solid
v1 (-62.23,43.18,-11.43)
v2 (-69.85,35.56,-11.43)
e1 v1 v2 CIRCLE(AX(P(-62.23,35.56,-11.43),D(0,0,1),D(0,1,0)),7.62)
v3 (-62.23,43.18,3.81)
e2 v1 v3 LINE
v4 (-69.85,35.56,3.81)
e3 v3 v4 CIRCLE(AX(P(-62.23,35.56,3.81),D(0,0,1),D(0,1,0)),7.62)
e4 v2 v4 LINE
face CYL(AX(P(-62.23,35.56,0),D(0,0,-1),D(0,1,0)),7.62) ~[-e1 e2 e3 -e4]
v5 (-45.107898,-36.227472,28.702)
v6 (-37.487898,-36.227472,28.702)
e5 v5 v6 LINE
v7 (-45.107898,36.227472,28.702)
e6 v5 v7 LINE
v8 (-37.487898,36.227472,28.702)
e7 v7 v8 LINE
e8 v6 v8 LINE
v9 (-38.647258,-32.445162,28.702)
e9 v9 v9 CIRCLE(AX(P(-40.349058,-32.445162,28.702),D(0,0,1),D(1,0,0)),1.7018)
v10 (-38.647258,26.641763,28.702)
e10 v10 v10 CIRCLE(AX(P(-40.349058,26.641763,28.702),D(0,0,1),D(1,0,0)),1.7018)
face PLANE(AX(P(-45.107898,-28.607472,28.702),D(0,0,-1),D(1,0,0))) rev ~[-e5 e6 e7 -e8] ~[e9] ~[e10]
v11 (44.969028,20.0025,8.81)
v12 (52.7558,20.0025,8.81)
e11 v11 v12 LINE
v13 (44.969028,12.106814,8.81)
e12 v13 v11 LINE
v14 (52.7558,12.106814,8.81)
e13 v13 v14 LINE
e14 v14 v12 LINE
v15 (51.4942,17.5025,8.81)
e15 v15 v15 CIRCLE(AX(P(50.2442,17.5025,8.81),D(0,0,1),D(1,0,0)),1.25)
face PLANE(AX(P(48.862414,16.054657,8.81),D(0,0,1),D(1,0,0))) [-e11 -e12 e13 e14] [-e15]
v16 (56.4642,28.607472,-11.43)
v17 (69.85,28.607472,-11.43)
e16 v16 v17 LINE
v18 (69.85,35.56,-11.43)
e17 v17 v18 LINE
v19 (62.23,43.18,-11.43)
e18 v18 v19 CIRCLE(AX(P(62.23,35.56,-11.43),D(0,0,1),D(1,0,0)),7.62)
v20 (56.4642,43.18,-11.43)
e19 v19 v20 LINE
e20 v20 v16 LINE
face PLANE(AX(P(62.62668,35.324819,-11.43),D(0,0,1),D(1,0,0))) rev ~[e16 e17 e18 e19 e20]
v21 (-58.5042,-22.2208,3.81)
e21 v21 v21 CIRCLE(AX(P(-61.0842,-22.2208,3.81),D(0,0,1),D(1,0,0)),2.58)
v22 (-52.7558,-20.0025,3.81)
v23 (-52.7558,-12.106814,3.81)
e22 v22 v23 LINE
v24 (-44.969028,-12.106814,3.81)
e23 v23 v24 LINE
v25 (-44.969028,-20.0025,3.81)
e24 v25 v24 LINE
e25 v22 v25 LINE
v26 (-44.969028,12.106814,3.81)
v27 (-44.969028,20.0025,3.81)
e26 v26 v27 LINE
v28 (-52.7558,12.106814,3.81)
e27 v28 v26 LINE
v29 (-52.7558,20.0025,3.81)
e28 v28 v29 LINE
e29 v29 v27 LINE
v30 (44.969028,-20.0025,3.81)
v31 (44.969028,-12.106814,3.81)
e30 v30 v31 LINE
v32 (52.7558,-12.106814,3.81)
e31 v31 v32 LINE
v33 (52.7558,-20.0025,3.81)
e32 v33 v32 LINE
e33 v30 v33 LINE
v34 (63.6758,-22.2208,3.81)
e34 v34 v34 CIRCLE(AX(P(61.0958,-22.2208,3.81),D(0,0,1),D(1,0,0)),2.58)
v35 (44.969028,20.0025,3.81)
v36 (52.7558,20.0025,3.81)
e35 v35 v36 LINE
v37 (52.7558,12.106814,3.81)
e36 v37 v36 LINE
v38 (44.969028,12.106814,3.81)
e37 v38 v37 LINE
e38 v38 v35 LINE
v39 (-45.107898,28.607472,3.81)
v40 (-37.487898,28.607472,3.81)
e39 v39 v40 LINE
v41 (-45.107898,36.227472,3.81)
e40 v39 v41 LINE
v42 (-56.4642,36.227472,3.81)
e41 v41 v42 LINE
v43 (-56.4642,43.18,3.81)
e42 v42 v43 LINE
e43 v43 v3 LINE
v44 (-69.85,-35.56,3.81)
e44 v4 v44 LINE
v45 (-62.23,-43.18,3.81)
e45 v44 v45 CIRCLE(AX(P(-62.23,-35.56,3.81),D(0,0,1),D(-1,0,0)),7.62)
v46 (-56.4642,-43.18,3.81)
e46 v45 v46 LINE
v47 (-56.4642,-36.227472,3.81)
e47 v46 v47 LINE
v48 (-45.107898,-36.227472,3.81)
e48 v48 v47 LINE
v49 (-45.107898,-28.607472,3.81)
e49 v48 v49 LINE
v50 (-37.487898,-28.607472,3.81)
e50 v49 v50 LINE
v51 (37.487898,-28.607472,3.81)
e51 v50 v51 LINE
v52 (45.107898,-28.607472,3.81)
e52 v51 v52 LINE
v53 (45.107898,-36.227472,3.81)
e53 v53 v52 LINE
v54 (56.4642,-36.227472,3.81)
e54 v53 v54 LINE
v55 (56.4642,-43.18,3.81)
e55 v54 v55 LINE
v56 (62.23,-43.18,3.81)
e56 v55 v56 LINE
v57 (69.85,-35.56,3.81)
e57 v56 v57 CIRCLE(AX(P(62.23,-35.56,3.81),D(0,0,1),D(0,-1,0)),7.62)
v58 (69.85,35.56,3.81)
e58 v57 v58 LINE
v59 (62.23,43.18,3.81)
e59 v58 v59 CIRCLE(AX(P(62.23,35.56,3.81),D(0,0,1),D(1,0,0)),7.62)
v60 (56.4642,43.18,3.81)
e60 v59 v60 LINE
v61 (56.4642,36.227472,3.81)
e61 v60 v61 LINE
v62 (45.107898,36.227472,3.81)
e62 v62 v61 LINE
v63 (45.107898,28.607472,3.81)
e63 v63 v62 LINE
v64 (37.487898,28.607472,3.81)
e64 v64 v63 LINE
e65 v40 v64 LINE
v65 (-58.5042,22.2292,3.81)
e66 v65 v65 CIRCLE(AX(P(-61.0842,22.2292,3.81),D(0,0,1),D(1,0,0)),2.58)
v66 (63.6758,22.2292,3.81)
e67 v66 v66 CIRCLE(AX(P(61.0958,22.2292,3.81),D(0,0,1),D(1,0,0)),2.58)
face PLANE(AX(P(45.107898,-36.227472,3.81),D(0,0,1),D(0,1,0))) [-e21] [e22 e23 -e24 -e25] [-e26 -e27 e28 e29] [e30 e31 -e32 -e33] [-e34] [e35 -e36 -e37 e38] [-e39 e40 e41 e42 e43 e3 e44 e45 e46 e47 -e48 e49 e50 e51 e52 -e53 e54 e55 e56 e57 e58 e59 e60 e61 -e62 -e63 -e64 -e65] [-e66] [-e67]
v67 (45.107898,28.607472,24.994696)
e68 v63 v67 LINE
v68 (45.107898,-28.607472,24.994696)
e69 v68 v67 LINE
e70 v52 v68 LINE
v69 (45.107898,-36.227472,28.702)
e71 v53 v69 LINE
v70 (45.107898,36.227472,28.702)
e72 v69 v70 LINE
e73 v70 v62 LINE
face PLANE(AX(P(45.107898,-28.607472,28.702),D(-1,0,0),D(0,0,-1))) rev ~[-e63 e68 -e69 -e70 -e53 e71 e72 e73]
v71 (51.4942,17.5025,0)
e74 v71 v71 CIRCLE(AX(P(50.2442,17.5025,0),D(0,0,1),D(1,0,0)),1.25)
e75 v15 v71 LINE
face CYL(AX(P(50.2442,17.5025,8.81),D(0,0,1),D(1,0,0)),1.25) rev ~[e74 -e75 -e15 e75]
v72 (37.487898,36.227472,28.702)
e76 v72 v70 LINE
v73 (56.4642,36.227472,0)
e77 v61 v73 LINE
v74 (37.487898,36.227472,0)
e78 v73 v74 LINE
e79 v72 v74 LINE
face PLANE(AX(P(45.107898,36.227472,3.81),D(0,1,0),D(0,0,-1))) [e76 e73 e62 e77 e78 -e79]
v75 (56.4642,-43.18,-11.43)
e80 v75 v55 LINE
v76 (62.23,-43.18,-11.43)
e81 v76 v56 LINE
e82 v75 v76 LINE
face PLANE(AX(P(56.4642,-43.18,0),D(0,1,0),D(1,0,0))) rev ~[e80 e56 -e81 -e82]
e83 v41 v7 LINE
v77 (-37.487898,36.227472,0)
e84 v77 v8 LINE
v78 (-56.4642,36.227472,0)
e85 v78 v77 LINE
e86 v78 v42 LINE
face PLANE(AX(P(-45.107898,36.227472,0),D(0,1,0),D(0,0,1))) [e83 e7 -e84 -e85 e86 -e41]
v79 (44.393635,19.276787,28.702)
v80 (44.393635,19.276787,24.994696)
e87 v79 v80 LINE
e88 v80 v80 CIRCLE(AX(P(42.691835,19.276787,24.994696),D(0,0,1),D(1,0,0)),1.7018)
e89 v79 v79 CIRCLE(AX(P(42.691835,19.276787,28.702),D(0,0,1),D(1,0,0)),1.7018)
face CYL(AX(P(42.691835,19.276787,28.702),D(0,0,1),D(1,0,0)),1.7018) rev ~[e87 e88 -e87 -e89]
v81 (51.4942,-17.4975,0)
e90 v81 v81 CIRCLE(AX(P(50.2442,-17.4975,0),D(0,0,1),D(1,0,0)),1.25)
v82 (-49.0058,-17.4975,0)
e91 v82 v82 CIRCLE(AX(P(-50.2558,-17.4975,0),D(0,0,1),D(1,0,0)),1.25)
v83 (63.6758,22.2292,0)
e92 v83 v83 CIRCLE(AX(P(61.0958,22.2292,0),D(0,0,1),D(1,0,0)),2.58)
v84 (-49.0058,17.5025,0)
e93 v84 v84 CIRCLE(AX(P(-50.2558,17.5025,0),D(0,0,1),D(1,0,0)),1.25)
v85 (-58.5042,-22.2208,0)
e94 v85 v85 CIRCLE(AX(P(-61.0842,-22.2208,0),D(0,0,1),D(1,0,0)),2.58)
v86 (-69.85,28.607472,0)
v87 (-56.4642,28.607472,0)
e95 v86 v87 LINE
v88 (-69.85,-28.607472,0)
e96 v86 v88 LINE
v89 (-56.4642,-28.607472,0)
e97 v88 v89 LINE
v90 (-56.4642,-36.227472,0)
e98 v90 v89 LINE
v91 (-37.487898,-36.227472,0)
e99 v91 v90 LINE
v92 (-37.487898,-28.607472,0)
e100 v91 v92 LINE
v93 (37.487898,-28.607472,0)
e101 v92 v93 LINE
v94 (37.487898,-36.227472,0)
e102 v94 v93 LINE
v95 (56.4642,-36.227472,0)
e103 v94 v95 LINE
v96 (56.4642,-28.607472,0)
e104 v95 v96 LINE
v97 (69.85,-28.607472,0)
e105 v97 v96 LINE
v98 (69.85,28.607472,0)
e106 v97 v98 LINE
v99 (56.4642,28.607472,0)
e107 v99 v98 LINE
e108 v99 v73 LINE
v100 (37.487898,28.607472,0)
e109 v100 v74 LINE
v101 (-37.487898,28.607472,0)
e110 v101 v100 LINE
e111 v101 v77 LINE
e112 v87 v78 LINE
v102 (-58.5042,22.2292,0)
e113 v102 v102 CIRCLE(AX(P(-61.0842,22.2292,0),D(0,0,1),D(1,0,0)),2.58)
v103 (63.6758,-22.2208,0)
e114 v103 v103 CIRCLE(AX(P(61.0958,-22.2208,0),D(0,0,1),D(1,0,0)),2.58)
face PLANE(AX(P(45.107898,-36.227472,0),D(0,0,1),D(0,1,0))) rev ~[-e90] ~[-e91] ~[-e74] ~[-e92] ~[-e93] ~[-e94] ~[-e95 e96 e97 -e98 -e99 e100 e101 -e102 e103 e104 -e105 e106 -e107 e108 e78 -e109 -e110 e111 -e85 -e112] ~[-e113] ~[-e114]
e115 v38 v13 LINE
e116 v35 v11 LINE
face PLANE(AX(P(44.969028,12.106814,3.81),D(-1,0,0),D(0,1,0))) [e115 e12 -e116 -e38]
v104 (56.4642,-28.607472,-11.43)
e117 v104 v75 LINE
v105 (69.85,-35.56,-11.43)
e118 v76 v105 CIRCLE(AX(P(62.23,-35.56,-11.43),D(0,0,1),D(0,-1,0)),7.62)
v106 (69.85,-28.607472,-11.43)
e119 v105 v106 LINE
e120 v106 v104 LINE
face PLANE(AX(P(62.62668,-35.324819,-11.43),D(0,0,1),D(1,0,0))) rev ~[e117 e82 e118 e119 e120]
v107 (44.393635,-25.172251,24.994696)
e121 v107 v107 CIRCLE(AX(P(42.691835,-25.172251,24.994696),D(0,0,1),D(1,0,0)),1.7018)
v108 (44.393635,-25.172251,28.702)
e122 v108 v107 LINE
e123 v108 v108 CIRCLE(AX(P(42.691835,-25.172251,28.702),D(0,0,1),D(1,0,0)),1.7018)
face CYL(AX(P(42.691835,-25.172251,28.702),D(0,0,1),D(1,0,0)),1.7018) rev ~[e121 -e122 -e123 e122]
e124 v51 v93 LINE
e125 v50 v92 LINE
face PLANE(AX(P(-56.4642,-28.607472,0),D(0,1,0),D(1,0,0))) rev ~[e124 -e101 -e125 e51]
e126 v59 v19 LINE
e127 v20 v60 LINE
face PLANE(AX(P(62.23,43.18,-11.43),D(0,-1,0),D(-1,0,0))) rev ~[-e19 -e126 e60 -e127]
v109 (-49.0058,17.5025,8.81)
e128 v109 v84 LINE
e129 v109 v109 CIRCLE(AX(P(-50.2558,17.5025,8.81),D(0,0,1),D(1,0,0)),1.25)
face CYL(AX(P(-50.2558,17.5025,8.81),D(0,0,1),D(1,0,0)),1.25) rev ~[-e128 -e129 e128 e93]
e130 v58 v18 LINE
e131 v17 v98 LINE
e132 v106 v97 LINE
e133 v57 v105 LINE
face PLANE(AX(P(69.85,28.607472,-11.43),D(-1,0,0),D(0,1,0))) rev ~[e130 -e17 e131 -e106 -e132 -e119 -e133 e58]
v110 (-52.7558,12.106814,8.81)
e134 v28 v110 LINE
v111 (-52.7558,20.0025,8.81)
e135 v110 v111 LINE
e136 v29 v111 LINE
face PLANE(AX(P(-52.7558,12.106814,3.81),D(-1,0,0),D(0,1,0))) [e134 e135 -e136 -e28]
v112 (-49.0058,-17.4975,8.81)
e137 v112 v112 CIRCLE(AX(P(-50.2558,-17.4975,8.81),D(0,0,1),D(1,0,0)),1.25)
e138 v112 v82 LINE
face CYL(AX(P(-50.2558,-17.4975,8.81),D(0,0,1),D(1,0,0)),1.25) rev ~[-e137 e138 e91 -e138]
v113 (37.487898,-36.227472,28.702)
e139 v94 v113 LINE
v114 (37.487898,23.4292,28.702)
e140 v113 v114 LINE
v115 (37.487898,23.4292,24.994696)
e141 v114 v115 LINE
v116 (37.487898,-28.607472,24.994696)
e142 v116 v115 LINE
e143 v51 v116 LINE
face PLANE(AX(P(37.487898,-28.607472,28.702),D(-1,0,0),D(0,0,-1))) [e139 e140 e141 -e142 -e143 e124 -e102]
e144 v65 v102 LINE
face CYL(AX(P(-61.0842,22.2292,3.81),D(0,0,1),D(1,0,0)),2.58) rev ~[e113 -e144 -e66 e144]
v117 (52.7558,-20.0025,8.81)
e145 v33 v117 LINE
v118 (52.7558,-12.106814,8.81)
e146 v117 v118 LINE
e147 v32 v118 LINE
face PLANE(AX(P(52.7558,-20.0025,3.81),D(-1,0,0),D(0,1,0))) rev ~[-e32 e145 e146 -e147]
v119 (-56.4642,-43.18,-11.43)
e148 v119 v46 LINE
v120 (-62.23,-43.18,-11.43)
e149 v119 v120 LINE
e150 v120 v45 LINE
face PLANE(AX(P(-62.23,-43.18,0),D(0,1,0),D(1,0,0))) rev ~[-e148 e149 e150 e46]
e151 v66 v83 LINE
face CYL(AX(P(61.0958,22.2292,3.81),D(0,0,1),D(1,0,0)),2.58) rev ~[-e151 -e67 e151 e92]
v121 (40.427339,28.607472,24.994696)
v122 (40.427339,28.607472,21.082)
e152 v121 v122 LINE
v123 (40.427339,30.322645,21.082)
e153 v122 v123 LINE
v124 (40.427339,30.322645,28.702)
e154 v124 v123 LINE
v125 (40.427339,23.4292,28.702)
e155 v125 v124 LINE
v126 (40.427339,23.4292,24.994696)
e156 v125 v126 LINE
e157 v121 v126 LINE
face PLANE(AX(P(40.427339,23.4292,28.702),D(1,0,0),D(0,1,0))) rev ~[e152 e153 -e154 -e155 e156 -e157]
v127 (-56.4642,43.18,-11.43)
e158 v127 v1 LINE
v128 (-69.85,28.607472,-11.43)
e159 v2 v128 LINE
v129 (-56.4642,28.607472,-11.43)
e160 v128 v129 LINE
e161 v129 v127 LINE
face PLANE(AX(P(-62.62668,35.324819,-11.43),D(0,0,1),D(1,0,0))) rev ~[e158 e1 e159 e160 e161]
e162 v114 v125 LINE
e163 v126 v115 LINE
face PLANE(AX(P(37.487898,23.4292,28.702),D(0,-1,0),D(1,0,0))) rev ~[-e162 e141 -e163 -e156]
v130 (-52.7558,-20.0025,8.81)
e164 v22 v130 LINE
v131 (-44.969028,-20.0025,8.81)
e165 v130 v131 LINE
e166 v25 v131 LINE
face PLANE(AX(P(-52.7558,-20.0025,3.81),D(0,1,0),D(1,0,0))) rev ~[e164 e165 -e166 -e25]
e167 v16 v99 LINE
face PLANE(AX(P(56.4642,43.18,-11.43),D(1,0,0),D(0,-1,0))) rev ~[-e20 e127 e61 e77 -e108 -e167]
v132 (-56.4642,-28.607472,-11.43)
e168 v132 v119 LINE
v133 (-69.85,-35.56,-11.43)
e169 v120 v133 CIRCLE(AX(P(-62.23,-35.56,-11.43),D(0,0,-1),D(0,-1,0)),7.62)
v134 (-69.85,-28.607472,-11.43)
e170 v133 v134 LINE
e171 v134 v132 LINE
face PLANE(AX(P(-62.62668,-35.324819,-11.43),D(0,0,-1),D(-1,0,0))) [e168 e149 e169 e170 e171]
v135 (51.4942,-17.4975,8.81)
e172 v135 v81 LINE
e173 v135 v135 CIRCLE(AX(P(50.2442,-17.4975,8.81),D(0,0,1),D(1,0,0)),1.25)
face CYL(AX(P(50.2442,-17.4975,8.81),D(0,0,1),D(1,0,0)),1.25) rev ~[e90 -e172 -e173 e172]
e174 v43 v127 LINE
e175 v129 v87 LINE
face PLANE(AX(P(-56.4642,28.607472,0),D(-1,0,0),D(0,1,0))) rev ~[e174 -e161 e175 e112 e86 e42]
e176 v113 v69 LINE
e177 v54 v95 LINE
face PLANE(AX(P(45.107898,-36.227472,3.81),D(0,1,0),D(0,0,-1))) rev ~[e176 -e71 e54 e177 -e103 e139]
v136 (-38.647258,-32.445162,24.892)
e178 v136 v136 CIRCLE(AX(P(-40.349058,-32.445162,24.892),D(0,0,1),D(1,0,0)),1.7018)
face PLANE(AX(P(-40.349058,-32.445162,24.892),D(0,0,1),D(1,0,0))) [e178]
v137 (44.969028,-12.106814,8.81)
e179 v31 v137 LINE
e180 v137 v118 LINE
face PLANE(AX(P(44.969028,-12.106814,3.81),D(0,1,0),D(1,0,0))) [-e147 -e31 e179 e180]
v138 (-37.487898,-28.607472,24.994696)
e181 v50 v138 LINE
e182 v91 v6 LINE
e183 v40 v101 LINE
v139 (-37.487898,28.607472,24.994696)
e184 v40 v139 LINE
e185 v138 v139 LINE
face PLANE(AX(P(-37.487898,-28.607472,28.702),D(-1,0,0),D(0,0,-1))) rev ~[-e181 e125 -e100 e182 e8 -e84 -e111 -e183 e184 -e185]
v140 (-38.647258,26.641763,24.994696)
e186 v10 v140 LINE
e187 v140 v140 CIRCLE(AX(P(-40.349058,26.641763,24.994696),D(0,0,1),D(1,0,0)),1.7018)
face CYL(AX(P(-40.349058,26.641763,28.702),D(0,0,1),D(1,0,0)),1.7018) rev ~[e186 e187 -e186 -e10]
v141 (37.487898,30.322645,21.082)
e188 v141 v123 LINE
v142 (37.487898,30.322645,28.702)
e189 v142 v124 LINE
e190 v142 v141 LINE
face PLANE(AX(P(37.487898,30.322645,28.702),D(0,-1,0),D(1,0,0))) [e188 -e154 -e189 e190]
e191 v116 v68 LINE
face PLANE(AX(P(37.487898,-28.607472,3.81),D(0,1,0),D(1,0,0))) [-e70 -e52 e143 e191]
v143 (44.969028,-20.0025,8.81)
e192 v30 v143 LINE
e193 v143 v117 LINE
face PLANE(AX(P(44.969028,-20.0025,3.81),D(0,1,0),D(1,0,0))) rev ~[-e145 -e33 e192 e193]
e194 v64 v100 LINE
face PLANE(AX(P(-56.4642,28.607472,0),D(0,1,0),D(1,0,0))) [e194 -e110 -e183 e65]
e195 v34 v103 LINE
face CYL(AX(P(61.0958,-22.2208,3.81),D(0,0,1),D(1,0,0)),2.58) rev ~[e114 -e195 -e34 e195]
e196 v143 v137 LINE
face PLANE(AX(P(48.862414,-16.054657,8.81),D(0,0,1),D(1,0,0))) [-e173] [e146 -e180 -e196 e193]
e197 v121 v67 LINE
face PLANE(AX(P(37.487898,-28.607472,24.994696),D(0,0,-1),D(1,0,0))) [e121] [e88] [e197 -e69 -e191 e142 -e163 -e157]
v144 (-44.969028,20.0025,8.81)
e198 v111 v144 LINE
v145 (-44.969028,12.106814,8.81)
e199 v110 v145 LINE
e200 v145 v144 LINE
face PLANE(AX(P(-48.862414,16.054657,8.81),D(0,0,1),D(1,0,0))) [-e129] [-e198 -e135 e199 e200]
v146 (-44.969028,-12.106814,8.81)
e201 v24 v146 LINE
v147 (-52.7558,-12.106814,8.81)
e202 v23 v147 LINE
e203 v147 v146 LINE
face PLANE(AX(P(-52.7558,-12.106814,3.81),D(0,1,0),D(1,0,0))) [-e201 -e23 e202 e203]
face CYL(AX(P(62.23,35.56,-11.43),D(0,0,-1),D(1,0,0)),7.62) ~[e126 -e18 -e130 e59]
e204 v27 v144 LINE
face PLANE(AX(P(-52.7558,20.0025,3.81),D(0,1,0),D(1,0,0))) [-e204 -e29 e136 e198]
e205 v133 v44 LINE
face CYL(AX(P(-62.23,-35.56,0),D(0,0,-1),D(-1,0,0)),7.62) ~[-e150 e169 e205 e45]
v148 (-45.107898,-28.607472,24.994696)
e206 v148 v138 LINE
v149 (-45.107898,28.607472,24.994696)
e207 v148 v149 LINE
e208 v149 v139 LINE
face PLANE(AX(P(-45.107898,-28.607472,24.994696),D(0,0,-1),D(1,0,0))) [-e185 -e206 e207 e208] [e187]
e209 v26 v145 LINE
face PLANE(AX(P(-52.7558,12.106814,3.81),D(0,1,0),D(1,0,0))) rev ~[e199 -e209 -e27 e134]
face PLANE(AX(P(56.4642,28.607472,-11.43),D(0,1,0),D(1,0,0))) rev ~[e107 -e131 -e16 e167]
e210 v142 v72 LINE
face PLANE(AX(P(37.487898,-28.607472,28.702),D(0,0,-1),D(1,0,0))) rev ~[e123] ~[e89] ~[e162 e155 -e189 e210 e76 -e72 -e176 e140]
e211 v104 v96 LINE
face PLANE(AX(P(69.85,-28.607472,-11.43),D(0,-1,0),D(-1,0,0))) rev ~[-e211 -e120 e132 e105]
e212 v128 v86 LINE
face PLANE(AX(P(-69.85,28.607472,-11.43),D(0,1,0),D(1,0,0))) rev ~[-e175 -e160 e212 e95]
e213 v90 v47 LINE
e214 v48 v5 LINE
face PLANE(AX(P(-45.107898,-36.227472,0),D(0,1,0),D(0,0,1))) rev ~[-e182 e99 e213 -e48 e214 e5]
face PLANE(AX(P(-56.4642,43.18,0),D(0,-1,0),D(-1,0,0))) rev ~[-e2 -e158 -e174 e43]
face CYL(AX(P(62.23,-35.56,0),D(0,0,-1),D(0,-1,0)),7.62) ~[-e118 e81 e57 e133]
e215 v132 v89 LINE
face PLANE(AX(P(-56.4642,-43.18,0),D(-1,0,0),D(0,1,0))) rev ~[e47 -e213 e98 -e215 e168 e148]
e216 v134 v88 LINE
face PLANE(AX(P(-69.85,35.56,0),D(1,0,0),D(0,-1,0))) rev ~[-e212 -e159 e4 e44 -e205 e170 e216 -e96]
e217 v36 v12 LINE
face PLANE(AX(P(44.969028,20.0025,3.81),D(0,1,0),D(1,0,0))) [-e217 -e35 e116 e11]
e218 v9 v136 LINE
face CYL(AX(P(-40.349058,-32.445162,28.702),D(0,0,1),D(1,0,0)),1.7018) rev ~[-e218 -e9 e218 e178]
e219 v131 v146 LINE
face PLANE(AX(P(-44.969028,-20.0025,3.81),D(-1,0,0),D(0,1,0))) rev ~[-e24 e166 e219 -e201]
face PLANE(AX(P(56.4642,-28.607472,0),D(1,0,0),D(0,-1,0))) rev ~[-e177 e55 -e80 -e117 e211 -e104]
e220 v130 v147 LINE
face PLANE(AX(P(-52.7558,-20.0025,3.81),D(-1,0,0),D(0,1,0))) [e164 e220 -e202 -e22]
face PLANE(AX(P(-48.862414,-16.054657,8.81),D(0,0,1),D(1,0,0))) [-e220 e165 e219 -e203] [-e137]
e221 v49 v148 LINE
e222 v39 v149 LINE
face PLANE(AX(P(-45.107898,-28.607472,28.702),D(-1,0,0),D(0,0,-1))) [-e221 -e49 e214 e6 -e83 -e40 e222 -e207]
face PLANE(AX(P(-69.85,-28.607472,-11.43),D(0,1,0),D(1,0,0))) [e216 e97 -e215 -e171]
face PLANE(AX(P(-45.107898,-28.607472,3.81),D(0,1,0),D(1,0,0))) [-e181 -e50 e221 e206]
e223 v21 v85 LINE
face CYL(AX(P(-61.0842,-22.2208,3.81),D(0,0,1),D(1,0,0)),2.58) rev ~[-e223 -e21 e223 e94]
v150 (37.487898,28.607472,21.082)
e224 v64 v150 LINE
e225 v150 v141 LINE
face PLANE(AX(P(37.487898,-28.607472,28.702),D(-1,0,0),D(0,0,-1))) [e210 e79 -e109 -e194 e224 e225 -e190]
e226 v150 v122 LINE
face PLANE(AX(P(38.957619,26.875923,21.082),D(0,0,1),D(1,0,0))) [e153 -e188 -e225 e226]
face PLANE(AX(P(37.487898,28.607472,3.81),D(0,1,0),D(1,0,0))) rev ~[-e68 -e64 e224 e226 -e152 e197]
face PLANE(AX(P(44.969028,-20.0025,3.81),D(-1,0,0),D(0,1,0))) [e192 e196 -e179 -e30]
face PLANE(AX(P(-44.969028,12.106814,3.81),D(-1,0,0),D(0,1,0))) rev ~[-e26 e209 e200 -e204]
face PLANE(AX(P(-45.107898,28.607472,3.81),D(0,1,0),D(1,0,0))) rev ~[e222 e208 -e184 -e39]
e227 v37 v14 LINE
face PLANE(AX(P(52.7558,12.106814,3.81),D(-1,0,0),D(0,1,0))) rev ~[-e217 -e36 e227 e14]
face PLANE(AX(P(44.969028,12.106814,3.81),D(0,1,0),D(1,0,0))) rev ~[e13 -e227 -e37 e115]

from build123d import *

# Parameters (mm, degrees)
SKETCH1_W             = 112.9284
SKETCH1_H             = 57.214943904
BOSS_EXTRUDE1_DEPTH   = 3.81
BOSS_EXTRUDE2_START   = 11.43
BOSS_EXTRUDE2_DEPTH   = 11.43
CUT_EXTRUDE1_REACH    = 85.521
SKETCH3_R             = 2.58
SKETCH4_W             = 7.786771744
SKETCH4_H             = 7.895685894
BOSS_EXTRUDE3_DEPTH   = 5
CUT_EXTRUDE2_REACH    = 86.577
SKETCH5_R             = 1.25
SKETCH8_W             = 7.62
SKETCH8_H             = 7.62
BOSS_EXTRUDE4_DEPTH   = 24.892
BOSS_EXTRUDE4_2_DEPTH = 24.892
BOSS_EXTRUDE4_3_DEPTH = 24.892
BOSS_EXTRUDE4_4_DEPTH = 24.892
SKETCH9_W             = 7.62
SKETCH9_H             = 7.62
BOSS_EXTRUDE5_DEPTH   = 3.81
BOSS_EXTRUDE6_REACH   = 106.193
SKETCH10_W            = 7.62
SKETCH10_H            = 3.70730408
BOSS_EXTRUDE7_REACH   = 128.11
SKETCH11_W            = 3.81
SKETCH11_H            = 7.62
BOSS_EXTRUDE8_REACH   = 128.11
SKETCH12_W            = 3.81
SKETCH12_H            = 7.62
SKETCH14_R            = 1.7018
CUT_EXTRUDE3_DEPTH    = 3.81
SKETCH16_W            = 2.93944059
SKETCH16_H            = 6.893445181
CUT_EXTRUDE4_DEPTH    = 7.62


with BuildPart() as part:
    # Sketch1 → Boss-Extrude1 (new body)
    with BuildSketch(Plane.XY):
        with BuildLine():
            Line((-56.4642, -28.607471952), (-56.4642, 28.607471952))
            Line((-56.4642, 28.607471952), (-56.4642, 43.18))
            Line((-56.4642, 43.18), (-62.23, 43.18))
            ThreePointArc((-62.23, 43.18), (-67.618153673, 40.948153673), (-69.85, 35.56))
            Line((-69.85, 35.56), (-69.85, -35.56))
            ThreePointArc((-69.85, -35.56), (-67.618153673, -40.948153673), (-62.23, -43.18))
            Line((-62.23, -43.18), (-56.4642, -43.18))
            Line((-56.4642, -43.18), (-56.4642, -28.607471952))
        make_face()
        Rectangle(SKETCH1_W, SKETCH1_H)
        with BuildLine():
            Line((56.4642, 43.18), (56.4642, 28.607471952))
            Line((56.4642, 28.607471952), (56.4642, -28.607471952))
            Line((56.4642, -28.607471952), (56.4642, -43.18))
            Line((56.4642, -43.18), (62.23, -43.18))
            ThreePointArc((62.23, -43.18), (67.618153673, -40.948153673), (69.85, -35.56))
            Line((69.85, -35.56), (69.85, 35.56))
            ThreePointArc((69.85, 35.56), (67.618153673, 40.948153673), (62.23, 43.18))
            Line((62.23, 43.18), (56.4642, 43.18))
        make_face()
    extrude(amount=BOSS_EXTRUDE1_DEPTH)

    # Sketch2 → Boss-Extrude2 (add)
    with BuildSketch(Plane(origin=(0, 0, 0), x_dir=(-1, 0, 0), z_dir=(0, 0, -1)).offset(BOSS_EXTRUDE2_START)):
        with BuildLine():
            Line((-62.23, 43.18), (-56.4642, 43.18))
            Line((-56.4642, 43.18), (-56.4642, 28.607471952))
            Line((-56.4642, 28.607471952), (-69.85, 28.607471952))
            Line((-69.85, 28.607471952), (-69.85, 35.56))
            ThreePointArc((-69.85, 35.56), (-67.618153673, 40.948153673), (-62.23, 43.18))
        make_face()
        with BuildLine():
            Line((69.85, 28.607471952), (56.4642, 28.607471952))
            Line((56.4642, 28.607471952), (56.4642, 43.18))
            Line((56.4642, 43.18), (62.23, 43.18))
            ThreePointArc((62.23, 43.18), (67.618153673, 40.948153673), (69.85, 35.56))
            Line((69.85, 35.56), (69.85, 28.607471952))
        make_face()
        with BuildLine():
            Line((69.85, -35.56), (69.85, -28.607471952))
            Line((69.85, -28.607471952), (56.4642, -28.607471952))
            Line((56.4642, -28.607471952), (56.4642, -43.18))
            Line((56.4642, -43.18), (62.23, -43.18))
            ThreePointArc((62.23, -43.18), (67.618153673, -40.948153673), (69.85, -35.56))
        make_face()
        with BuildLine():
            Line((-69.85, -28.607471952), (-56.4642, -28.607471952))
            Line((-56.4642, -28.607471952), (-56.4642, -43.18))
            Line((-56.4642, -43.18), (-62.23, -43.18))
            ThreePointArc((-62.23, -43.18), (-67.618153673, -40.948153673), (-69.85, -35.56))
            Line((-69.85, -35.56), (-69.85, -28.607471952))
        make_face()
    extrude(amount=-BOSS_EXTRUDE2_DEPTH)

    # Sketch3 → Cut-Extrude1 (cut, up to next)
    with BuildSketch(Plane.XY.offset(3.81), mode=Mode.PRIVATE) as cut_extrude1_sk1:
        with Locations((-61.0842, 22.2292)):
            Circle(SKETCH3_R)
    cut_extrude1_tool1 = extrude(cut_extrude1_sk1.sketch, amount=-CUT_EXTRUDE1_REACH, mode=Mode.PRIVATE) & part.part
    # Sketch3 → Cut-Extrude1 (cut, up to next)
    with BuildSketch(Plane.XY.offset(3.81), mode=Mode.PRIVATE) as cut_extrude1_sk2:
        with Locations((-61.0842, -22.2208)):
            Circle(SKETCH3_R)
    cut_extrude1_tool2 = extrude(cut_extrude1_sk2.sketch, amount=-CUT_EXTRUDE1_REACH, mode=Mode.PRIVATE) & part.part
    # Sketch3 → Cut-Extrude1 (cut, up to next)
    with BuildSketch(Plane.XY.offset(3.81), mode=Mode.PRIVATE) as cut_extrude1_sk3:
        with Locations((61.0958, -22.2208)):
            Circle(SKETCH3_R)
    cut_extrude1_tool3 = extrude(cut_extrude1_sk3.sketch, amount=-CUT_EXTRUDE1_REACH, mode=Mode.PRIVATE) & part.part
    # Sketch3 → Cut-Extrude1 (cut, up to next)
    with BuildSketch(Plane.XY.offset(3.81), mode=Mode.PRIVATE) as cut_extrude1_sk4:
        with Locations((61.0958, 22.2292)):
            Circle(SKETCH3_R)
    cut_extrude1_tool4 = extrude(cut_extrude1_sk4.sketch, amount=-CUT_EXTRUDE1_REACH, mode=Mode.PRIVATE) & part.part
    add(cut_extrude1_tool1.solids().sort_by_distance((-61.0842, 22.2292, 3.81))[0], mode=Mode.SUBTRACT)
    add(cut_extrude1_tool2.solids().sort_by_distance((-61.0842, -22.2208, 3.81))[0], mode=Mode.SUBTRACT)
    add(cut_extrude1_tool3.solids().sort_by_distance((61.0958, -22.2208, 3.81))[0], mode=Mode.SUBTRACT)
    add(cut_extrude1_tool4.solids().sort_by_distance((61.0958, 22.2292, 3.81))[0], mode=Mode.SUBTRACT)

    # Sketch4 → Boss-Extrude3 (add)
    with BuildSketch(Plane.XY.offset(3.81)):
        with Locations((-48.862414128, 16.054657053)):
            Rectangle(SKETCH4_W, SKETCH4_H)
        with Locations((48.862414128, 16.054657053)):
            Rectangle(SKETCH4_W, SKETCH4_H)
        with Locations((48.862414128, -16.054657053)):
            Rectangle(SKETCH4_W, SKETCH4_H)
        with Locations((-48.862414128, -16.054657053)):
            Rectangle(SKETCH4_W, SKETCH4_H)
    extrude(amount=BOSS_EXTRUDE3_DEPTH)

    # Sketch5 → Cut-Extrude2 (cut, up to next)
    with BuildSketch(Plane.XY.offset(8.81), mode=Mode.PRIVATE) as cut_extrude2_sk1:
        with Locations((50.2442, 17.5025)):
            Circle(SKETCH5_R)
    cut_extrude2_tool1 = extrude(cut_extrude2_sk1.sketch, amount=-CUT_EXTRUDE2_REACH, mode=Mode.PRIVATE) & part.part
    # Sketch5 → Cut-Extrude2 (cut, up to next)
    with BuildSketch(Plane.XY.offset(8.81), mode=Mode.PRIVATE) as cut_extrude2_sk2:
        with Locations((50.2442, -17.4975)):
            Circle(SKETCH5_R)
    cut_extrude2_tool2 = extrude(cut_extrude2_sk2.sketch, amount=-CUT_EXTRUDE2_REACH, mode=Mode.PRIVATE) & part.part
    # Sketch5 → Cut-Extrude2 (cut, up to next)
    with BuildSketch(Plane.XY.offset(8.81), mode=Mode.PRIVATE) as cut_extrude2_sk3:
        with Locations((-50.2558, -17.4975)):
            Circle(SKETCH5_R)
    cut_extrude2_tool3 = extrude(cut_extrude2_sk3.sketch, amount=-CUT_EXTRUDE2_REACH, mode=Mode.PRIVATE) & part.part
    # Sketch5 → Cut-Extrude2 (cut, up to next)
    with BuildSketch(Plane.XY.offset(8.81), mode=Mode.PRIVATE) as cut_extrude2_sk4:
        with Locations((-50.2558, 17.5025)):
            Circle(SKETCH5_R)
    cut_extrude2_tool4 = extrude(cut_extrude2_sk4.sketch, amount=-CUT_EXTRUDE2_REACH, mode=Mode.PRIVATE) & part.part
    add(cut_extrude2_tool1.solids().sort_by_distance((50.2442, 17.5025, 8.81))[0], mode=Mode.SUBTRACT)
    add(cut_extrude2_tool2.solids().sort_by_distance((50.2442, -17.4975, 8.81))[0], mode=Mode.SUBTRACT)
    add(cut_extrude2_tool3.solids().sort_by_distance((-50.2558, -17.4975, 8.81))[0], mode=Mode.SUBTRACT)
    add(cut_extrude2_tool4.solids().sort_by_distance((-50.2558, 17.5025, 8.81))[0], mode=Mode.SUBTRACT)



with BuildPart() as body_2:
    # Sketch8 → Boss-Extrude4 (new body)
    with BuildSketch(Plane.XY.offset(3.81)):
        with Locations((-41.297898441, 32.417471952)):
            Rectangle(SKETCH8_W, SKETCH8_H)
    extrude(amount=BOSS_EXTRUDE4_DEPTH)


with BuildPart() as body_3:
    # Sketch8 → Boss-Extrude4 2 (new body)
    with BuildSketch(Plane.XY.offset(3.81)):
        with Locations((41.297898441, 32.417471952)):
            Rectangle(SKETCH8_W, SKETCH8_H)
    extrude(amount=BOSS_EXTRUDE4_2_DEPTH)


with BuildPart() as body_4:
    # Sketch8 → Boss-Extrude4 3 (new body)
    with BuildSketch(Plane.XY.offset(3.81)):
        with Locations((41.297898441, -32.417471952)):
            Rectangle(SKETCH8_W, SKETCH8_H)
    extrude(amount=BOSS_EXTRUDE4_3_DEPTH)


with BuildPart() as body_5:
    # Sketch8 → Boss-Extrude4 4 (new body)
    with BuildSketch(Plane.XY.offset(3.81)):
        with Locations((-41.297898441, -32.417471952)):
            Rectangle(SKETCH8_W, SKETCH8_H)
    extrude(amount=BOSS_EXTRUDE4_4_DEPTH)


with BuildPart() as part_1:
    add(part.part)

    add(body_2.part)  # Boss-Extrude5 merges body 2

    add(body_3.part)  # Boss-Extrude5 merges body 3

    add(body_4.part)  # Boss-Extrude5 merges body 4

    add(body_5.part)  # Boss-Extrude5 merges body 5
    # Sketch9 → Boss-Extrude5 (add)
    with BuildSketch(Plane.XY.offset(3.81)):
        with Locations((41.297898441, 32.417471952)):
            Rectangle(SKETCH9_W, SKETCH9_H)
        with Locations((-41.297898441, 32.417471952)):
            Rectangle(SKETCH9_W, SKETCH9_H)
        with Locations((-41.297898441, -32.417471952)):
            Rectangle(SKETCH9_W, SKETCH9_H)
        with Locations((41.297898441, -32.417471952)):
            Rectangle(SKETCH9_W, SKETCH9_H)
    extrude(amount=-BOSS_EXTRUDE5_DEPTH)

    # Sketch10 → Boss-Extrude6 (add, up to next)
    with BuildSketch(Plane(origin=(0, -28.607471952, 0), x_dir=(1, 0, 0), z_dir=(0, 1, 0)), mode=Mode.PRIVATE) as boss_extrude6_sk1:
        with Locations((-41.297898441, -26.84834796)):
            Rectangle(SKETCH10_W, SKETCH10_H)
    boss_extrude6_tool1 = extrude(boss_extrude6_sk1.sketch, amount=BOSS_EXTRUDE6_REACH, mode=Mode.PRIVATE) - part_1.part
    # Sketch10 → Boss-Extrude6 (add, up to next)
    with BuildSketch(Plane(origin=(0, -28.607471952, 0), x_dir=(1, 0, 0), z_dir=(0, 1, 0)), mode=Mode.PRIVATE) as boss_extrude6_sk2:
        with Locations((41.297898441, -26.84834796)):
            Rectangle(SKETCH10_W, SKETCH10_H)
    boss_extrude6_tool2 = extrude(boss_extrude6_sk2.sketch, amount=BOSS_EXTRUDE6_REACH, mode=Mode.PRIVATE) - part_1.part
    add(boss_extrude6_tool1.solids().sort_by_distance((-41.297898, -28.607472, 26.848348))[0])
    add(boss_extrude6_tool2.solids().sort_by_distance((41.297898, -28.607472, 26.848348))[0])

    # Sketch11 → Boss-Extrude7 (add, up to next)
    with BuildSketch(Plane.ZY.offset(45.107898441), mode=Mode.PRIVATE) as boss_extrude7_sk1:
        with Locations((1.905, -32.417471952)):
            Rectangle(SKETCH11_W, SKETCH11_H)
    boss_extrude7_tool1 = extrude(boss_extrude7_sk1.sketch, amount=BOSS_EXTRUDE7_REACH, mode=Mode.PRIVATE) - part_1.part
    # Sketch11 → Boss-Extrude7 (add, up to next)
    with BuildSketch(Plane.ZY.offset(45.107898441), mode=Mode.PRIVATE) as boss_extrude7_sk2:
        with Locations((1.905, 32.417471952)):
            Rectangle(SKETCH11_W, SKETCH11_H)
    boss_extrude7_tool2 = extrude(boss_extrude7_sk2.sketch, amount=BOSS_EXTRUDE7_REACH, mode=Mode.PRIVATE) - part_1.part
    add(boss_extrude7_tool1.solids().sort_by_distance((-45.107898, -32.417472, 1.905))[0])
    add(boss_extrude7_tool2.solids().sort_by_distance((-45.107898, 32.417472, 1.905))[0])

    # Sketch12 → Boss-Extrude8 (add, up to next)
    with BuildSketch(Plane(origin=(45.107898441, 0, 0), x_dir=(0, 0, -1), z_dir=(1, 0, 0)), mode=Mode.PRIVATE) as boss_extrude8_sk1:
        with Locations((-1.905, 32.417471952)):
            Rectangle(SKETCH12_W, SKETCH12_H)
    boss_extrude8_tool1 = extrude(boss_extrude8_sk1.sketch, amount=BOSS_EXTRUDE8_REACH, mode=Mode.PRIVATE) - part_1.part
    # Sketch12 → Boss-Extrude8 (add, up to next)
    with BuildSketch(Plane(origin=(45.107898441, 0, 0), x_dir=(0, 0, -1), z_dir=(1, 0, 0)), mode=Mode.PRIVATE) as boss_extrude8_sk2:
        with Locations((-1.905, -32.417471952)):
            Rectangle(SKETCH12_W, SKETCH12_H)
    boss_extrude8_tool2 = extrude(boss_extrude8_sk2.sketch, amount=BOSS_EXTRUDE8_REACH, mode=Mode.PRIVATE) - part_1.part
    add(boss_extrude8_tool1.solids().sort_by_distance((45.107898, 32.417472, 1.905))[0])
    add(boss_extrude8_tool2.solids().sort_by_distance((45.107898, -32.417472, 1.905))[0])

    # Sketch14 → Cut-Extrude3 (cut)
    with BuildSketch(Plane.XY.offset(28.702)):
        with Locations((-40.34905784, 26.641762983)):
            Circle(SKETCH14_R)
        with Locations((-40.34905784, -32.445162443)):
            Circle(SKETCH14_R)
        with Locations((42.691835463, 19.276786892)):
            Circle(SKETCH14_R)
        with Locations((42.691835463, -25.172251079)):
            Circle(SKETCH14_R)
    extrude(amount=-CUT_EXTRUDE3_DEPTH, mode=Mode.SUBTRACT)

    # Sketch16 → Cut-Extrude4 (cut)
    with BuildSketch(Plane.XY.offset(28.702)):
        with Locations((38.957618736, 26.875922591)):
            Rectangle(SKETCH16_W, SKETCH16_H)
    extrude(amount=-CUT_EXTRUDE4_DEPTH, mode=Mode.SUBTRACT)


solid = part_1.part
